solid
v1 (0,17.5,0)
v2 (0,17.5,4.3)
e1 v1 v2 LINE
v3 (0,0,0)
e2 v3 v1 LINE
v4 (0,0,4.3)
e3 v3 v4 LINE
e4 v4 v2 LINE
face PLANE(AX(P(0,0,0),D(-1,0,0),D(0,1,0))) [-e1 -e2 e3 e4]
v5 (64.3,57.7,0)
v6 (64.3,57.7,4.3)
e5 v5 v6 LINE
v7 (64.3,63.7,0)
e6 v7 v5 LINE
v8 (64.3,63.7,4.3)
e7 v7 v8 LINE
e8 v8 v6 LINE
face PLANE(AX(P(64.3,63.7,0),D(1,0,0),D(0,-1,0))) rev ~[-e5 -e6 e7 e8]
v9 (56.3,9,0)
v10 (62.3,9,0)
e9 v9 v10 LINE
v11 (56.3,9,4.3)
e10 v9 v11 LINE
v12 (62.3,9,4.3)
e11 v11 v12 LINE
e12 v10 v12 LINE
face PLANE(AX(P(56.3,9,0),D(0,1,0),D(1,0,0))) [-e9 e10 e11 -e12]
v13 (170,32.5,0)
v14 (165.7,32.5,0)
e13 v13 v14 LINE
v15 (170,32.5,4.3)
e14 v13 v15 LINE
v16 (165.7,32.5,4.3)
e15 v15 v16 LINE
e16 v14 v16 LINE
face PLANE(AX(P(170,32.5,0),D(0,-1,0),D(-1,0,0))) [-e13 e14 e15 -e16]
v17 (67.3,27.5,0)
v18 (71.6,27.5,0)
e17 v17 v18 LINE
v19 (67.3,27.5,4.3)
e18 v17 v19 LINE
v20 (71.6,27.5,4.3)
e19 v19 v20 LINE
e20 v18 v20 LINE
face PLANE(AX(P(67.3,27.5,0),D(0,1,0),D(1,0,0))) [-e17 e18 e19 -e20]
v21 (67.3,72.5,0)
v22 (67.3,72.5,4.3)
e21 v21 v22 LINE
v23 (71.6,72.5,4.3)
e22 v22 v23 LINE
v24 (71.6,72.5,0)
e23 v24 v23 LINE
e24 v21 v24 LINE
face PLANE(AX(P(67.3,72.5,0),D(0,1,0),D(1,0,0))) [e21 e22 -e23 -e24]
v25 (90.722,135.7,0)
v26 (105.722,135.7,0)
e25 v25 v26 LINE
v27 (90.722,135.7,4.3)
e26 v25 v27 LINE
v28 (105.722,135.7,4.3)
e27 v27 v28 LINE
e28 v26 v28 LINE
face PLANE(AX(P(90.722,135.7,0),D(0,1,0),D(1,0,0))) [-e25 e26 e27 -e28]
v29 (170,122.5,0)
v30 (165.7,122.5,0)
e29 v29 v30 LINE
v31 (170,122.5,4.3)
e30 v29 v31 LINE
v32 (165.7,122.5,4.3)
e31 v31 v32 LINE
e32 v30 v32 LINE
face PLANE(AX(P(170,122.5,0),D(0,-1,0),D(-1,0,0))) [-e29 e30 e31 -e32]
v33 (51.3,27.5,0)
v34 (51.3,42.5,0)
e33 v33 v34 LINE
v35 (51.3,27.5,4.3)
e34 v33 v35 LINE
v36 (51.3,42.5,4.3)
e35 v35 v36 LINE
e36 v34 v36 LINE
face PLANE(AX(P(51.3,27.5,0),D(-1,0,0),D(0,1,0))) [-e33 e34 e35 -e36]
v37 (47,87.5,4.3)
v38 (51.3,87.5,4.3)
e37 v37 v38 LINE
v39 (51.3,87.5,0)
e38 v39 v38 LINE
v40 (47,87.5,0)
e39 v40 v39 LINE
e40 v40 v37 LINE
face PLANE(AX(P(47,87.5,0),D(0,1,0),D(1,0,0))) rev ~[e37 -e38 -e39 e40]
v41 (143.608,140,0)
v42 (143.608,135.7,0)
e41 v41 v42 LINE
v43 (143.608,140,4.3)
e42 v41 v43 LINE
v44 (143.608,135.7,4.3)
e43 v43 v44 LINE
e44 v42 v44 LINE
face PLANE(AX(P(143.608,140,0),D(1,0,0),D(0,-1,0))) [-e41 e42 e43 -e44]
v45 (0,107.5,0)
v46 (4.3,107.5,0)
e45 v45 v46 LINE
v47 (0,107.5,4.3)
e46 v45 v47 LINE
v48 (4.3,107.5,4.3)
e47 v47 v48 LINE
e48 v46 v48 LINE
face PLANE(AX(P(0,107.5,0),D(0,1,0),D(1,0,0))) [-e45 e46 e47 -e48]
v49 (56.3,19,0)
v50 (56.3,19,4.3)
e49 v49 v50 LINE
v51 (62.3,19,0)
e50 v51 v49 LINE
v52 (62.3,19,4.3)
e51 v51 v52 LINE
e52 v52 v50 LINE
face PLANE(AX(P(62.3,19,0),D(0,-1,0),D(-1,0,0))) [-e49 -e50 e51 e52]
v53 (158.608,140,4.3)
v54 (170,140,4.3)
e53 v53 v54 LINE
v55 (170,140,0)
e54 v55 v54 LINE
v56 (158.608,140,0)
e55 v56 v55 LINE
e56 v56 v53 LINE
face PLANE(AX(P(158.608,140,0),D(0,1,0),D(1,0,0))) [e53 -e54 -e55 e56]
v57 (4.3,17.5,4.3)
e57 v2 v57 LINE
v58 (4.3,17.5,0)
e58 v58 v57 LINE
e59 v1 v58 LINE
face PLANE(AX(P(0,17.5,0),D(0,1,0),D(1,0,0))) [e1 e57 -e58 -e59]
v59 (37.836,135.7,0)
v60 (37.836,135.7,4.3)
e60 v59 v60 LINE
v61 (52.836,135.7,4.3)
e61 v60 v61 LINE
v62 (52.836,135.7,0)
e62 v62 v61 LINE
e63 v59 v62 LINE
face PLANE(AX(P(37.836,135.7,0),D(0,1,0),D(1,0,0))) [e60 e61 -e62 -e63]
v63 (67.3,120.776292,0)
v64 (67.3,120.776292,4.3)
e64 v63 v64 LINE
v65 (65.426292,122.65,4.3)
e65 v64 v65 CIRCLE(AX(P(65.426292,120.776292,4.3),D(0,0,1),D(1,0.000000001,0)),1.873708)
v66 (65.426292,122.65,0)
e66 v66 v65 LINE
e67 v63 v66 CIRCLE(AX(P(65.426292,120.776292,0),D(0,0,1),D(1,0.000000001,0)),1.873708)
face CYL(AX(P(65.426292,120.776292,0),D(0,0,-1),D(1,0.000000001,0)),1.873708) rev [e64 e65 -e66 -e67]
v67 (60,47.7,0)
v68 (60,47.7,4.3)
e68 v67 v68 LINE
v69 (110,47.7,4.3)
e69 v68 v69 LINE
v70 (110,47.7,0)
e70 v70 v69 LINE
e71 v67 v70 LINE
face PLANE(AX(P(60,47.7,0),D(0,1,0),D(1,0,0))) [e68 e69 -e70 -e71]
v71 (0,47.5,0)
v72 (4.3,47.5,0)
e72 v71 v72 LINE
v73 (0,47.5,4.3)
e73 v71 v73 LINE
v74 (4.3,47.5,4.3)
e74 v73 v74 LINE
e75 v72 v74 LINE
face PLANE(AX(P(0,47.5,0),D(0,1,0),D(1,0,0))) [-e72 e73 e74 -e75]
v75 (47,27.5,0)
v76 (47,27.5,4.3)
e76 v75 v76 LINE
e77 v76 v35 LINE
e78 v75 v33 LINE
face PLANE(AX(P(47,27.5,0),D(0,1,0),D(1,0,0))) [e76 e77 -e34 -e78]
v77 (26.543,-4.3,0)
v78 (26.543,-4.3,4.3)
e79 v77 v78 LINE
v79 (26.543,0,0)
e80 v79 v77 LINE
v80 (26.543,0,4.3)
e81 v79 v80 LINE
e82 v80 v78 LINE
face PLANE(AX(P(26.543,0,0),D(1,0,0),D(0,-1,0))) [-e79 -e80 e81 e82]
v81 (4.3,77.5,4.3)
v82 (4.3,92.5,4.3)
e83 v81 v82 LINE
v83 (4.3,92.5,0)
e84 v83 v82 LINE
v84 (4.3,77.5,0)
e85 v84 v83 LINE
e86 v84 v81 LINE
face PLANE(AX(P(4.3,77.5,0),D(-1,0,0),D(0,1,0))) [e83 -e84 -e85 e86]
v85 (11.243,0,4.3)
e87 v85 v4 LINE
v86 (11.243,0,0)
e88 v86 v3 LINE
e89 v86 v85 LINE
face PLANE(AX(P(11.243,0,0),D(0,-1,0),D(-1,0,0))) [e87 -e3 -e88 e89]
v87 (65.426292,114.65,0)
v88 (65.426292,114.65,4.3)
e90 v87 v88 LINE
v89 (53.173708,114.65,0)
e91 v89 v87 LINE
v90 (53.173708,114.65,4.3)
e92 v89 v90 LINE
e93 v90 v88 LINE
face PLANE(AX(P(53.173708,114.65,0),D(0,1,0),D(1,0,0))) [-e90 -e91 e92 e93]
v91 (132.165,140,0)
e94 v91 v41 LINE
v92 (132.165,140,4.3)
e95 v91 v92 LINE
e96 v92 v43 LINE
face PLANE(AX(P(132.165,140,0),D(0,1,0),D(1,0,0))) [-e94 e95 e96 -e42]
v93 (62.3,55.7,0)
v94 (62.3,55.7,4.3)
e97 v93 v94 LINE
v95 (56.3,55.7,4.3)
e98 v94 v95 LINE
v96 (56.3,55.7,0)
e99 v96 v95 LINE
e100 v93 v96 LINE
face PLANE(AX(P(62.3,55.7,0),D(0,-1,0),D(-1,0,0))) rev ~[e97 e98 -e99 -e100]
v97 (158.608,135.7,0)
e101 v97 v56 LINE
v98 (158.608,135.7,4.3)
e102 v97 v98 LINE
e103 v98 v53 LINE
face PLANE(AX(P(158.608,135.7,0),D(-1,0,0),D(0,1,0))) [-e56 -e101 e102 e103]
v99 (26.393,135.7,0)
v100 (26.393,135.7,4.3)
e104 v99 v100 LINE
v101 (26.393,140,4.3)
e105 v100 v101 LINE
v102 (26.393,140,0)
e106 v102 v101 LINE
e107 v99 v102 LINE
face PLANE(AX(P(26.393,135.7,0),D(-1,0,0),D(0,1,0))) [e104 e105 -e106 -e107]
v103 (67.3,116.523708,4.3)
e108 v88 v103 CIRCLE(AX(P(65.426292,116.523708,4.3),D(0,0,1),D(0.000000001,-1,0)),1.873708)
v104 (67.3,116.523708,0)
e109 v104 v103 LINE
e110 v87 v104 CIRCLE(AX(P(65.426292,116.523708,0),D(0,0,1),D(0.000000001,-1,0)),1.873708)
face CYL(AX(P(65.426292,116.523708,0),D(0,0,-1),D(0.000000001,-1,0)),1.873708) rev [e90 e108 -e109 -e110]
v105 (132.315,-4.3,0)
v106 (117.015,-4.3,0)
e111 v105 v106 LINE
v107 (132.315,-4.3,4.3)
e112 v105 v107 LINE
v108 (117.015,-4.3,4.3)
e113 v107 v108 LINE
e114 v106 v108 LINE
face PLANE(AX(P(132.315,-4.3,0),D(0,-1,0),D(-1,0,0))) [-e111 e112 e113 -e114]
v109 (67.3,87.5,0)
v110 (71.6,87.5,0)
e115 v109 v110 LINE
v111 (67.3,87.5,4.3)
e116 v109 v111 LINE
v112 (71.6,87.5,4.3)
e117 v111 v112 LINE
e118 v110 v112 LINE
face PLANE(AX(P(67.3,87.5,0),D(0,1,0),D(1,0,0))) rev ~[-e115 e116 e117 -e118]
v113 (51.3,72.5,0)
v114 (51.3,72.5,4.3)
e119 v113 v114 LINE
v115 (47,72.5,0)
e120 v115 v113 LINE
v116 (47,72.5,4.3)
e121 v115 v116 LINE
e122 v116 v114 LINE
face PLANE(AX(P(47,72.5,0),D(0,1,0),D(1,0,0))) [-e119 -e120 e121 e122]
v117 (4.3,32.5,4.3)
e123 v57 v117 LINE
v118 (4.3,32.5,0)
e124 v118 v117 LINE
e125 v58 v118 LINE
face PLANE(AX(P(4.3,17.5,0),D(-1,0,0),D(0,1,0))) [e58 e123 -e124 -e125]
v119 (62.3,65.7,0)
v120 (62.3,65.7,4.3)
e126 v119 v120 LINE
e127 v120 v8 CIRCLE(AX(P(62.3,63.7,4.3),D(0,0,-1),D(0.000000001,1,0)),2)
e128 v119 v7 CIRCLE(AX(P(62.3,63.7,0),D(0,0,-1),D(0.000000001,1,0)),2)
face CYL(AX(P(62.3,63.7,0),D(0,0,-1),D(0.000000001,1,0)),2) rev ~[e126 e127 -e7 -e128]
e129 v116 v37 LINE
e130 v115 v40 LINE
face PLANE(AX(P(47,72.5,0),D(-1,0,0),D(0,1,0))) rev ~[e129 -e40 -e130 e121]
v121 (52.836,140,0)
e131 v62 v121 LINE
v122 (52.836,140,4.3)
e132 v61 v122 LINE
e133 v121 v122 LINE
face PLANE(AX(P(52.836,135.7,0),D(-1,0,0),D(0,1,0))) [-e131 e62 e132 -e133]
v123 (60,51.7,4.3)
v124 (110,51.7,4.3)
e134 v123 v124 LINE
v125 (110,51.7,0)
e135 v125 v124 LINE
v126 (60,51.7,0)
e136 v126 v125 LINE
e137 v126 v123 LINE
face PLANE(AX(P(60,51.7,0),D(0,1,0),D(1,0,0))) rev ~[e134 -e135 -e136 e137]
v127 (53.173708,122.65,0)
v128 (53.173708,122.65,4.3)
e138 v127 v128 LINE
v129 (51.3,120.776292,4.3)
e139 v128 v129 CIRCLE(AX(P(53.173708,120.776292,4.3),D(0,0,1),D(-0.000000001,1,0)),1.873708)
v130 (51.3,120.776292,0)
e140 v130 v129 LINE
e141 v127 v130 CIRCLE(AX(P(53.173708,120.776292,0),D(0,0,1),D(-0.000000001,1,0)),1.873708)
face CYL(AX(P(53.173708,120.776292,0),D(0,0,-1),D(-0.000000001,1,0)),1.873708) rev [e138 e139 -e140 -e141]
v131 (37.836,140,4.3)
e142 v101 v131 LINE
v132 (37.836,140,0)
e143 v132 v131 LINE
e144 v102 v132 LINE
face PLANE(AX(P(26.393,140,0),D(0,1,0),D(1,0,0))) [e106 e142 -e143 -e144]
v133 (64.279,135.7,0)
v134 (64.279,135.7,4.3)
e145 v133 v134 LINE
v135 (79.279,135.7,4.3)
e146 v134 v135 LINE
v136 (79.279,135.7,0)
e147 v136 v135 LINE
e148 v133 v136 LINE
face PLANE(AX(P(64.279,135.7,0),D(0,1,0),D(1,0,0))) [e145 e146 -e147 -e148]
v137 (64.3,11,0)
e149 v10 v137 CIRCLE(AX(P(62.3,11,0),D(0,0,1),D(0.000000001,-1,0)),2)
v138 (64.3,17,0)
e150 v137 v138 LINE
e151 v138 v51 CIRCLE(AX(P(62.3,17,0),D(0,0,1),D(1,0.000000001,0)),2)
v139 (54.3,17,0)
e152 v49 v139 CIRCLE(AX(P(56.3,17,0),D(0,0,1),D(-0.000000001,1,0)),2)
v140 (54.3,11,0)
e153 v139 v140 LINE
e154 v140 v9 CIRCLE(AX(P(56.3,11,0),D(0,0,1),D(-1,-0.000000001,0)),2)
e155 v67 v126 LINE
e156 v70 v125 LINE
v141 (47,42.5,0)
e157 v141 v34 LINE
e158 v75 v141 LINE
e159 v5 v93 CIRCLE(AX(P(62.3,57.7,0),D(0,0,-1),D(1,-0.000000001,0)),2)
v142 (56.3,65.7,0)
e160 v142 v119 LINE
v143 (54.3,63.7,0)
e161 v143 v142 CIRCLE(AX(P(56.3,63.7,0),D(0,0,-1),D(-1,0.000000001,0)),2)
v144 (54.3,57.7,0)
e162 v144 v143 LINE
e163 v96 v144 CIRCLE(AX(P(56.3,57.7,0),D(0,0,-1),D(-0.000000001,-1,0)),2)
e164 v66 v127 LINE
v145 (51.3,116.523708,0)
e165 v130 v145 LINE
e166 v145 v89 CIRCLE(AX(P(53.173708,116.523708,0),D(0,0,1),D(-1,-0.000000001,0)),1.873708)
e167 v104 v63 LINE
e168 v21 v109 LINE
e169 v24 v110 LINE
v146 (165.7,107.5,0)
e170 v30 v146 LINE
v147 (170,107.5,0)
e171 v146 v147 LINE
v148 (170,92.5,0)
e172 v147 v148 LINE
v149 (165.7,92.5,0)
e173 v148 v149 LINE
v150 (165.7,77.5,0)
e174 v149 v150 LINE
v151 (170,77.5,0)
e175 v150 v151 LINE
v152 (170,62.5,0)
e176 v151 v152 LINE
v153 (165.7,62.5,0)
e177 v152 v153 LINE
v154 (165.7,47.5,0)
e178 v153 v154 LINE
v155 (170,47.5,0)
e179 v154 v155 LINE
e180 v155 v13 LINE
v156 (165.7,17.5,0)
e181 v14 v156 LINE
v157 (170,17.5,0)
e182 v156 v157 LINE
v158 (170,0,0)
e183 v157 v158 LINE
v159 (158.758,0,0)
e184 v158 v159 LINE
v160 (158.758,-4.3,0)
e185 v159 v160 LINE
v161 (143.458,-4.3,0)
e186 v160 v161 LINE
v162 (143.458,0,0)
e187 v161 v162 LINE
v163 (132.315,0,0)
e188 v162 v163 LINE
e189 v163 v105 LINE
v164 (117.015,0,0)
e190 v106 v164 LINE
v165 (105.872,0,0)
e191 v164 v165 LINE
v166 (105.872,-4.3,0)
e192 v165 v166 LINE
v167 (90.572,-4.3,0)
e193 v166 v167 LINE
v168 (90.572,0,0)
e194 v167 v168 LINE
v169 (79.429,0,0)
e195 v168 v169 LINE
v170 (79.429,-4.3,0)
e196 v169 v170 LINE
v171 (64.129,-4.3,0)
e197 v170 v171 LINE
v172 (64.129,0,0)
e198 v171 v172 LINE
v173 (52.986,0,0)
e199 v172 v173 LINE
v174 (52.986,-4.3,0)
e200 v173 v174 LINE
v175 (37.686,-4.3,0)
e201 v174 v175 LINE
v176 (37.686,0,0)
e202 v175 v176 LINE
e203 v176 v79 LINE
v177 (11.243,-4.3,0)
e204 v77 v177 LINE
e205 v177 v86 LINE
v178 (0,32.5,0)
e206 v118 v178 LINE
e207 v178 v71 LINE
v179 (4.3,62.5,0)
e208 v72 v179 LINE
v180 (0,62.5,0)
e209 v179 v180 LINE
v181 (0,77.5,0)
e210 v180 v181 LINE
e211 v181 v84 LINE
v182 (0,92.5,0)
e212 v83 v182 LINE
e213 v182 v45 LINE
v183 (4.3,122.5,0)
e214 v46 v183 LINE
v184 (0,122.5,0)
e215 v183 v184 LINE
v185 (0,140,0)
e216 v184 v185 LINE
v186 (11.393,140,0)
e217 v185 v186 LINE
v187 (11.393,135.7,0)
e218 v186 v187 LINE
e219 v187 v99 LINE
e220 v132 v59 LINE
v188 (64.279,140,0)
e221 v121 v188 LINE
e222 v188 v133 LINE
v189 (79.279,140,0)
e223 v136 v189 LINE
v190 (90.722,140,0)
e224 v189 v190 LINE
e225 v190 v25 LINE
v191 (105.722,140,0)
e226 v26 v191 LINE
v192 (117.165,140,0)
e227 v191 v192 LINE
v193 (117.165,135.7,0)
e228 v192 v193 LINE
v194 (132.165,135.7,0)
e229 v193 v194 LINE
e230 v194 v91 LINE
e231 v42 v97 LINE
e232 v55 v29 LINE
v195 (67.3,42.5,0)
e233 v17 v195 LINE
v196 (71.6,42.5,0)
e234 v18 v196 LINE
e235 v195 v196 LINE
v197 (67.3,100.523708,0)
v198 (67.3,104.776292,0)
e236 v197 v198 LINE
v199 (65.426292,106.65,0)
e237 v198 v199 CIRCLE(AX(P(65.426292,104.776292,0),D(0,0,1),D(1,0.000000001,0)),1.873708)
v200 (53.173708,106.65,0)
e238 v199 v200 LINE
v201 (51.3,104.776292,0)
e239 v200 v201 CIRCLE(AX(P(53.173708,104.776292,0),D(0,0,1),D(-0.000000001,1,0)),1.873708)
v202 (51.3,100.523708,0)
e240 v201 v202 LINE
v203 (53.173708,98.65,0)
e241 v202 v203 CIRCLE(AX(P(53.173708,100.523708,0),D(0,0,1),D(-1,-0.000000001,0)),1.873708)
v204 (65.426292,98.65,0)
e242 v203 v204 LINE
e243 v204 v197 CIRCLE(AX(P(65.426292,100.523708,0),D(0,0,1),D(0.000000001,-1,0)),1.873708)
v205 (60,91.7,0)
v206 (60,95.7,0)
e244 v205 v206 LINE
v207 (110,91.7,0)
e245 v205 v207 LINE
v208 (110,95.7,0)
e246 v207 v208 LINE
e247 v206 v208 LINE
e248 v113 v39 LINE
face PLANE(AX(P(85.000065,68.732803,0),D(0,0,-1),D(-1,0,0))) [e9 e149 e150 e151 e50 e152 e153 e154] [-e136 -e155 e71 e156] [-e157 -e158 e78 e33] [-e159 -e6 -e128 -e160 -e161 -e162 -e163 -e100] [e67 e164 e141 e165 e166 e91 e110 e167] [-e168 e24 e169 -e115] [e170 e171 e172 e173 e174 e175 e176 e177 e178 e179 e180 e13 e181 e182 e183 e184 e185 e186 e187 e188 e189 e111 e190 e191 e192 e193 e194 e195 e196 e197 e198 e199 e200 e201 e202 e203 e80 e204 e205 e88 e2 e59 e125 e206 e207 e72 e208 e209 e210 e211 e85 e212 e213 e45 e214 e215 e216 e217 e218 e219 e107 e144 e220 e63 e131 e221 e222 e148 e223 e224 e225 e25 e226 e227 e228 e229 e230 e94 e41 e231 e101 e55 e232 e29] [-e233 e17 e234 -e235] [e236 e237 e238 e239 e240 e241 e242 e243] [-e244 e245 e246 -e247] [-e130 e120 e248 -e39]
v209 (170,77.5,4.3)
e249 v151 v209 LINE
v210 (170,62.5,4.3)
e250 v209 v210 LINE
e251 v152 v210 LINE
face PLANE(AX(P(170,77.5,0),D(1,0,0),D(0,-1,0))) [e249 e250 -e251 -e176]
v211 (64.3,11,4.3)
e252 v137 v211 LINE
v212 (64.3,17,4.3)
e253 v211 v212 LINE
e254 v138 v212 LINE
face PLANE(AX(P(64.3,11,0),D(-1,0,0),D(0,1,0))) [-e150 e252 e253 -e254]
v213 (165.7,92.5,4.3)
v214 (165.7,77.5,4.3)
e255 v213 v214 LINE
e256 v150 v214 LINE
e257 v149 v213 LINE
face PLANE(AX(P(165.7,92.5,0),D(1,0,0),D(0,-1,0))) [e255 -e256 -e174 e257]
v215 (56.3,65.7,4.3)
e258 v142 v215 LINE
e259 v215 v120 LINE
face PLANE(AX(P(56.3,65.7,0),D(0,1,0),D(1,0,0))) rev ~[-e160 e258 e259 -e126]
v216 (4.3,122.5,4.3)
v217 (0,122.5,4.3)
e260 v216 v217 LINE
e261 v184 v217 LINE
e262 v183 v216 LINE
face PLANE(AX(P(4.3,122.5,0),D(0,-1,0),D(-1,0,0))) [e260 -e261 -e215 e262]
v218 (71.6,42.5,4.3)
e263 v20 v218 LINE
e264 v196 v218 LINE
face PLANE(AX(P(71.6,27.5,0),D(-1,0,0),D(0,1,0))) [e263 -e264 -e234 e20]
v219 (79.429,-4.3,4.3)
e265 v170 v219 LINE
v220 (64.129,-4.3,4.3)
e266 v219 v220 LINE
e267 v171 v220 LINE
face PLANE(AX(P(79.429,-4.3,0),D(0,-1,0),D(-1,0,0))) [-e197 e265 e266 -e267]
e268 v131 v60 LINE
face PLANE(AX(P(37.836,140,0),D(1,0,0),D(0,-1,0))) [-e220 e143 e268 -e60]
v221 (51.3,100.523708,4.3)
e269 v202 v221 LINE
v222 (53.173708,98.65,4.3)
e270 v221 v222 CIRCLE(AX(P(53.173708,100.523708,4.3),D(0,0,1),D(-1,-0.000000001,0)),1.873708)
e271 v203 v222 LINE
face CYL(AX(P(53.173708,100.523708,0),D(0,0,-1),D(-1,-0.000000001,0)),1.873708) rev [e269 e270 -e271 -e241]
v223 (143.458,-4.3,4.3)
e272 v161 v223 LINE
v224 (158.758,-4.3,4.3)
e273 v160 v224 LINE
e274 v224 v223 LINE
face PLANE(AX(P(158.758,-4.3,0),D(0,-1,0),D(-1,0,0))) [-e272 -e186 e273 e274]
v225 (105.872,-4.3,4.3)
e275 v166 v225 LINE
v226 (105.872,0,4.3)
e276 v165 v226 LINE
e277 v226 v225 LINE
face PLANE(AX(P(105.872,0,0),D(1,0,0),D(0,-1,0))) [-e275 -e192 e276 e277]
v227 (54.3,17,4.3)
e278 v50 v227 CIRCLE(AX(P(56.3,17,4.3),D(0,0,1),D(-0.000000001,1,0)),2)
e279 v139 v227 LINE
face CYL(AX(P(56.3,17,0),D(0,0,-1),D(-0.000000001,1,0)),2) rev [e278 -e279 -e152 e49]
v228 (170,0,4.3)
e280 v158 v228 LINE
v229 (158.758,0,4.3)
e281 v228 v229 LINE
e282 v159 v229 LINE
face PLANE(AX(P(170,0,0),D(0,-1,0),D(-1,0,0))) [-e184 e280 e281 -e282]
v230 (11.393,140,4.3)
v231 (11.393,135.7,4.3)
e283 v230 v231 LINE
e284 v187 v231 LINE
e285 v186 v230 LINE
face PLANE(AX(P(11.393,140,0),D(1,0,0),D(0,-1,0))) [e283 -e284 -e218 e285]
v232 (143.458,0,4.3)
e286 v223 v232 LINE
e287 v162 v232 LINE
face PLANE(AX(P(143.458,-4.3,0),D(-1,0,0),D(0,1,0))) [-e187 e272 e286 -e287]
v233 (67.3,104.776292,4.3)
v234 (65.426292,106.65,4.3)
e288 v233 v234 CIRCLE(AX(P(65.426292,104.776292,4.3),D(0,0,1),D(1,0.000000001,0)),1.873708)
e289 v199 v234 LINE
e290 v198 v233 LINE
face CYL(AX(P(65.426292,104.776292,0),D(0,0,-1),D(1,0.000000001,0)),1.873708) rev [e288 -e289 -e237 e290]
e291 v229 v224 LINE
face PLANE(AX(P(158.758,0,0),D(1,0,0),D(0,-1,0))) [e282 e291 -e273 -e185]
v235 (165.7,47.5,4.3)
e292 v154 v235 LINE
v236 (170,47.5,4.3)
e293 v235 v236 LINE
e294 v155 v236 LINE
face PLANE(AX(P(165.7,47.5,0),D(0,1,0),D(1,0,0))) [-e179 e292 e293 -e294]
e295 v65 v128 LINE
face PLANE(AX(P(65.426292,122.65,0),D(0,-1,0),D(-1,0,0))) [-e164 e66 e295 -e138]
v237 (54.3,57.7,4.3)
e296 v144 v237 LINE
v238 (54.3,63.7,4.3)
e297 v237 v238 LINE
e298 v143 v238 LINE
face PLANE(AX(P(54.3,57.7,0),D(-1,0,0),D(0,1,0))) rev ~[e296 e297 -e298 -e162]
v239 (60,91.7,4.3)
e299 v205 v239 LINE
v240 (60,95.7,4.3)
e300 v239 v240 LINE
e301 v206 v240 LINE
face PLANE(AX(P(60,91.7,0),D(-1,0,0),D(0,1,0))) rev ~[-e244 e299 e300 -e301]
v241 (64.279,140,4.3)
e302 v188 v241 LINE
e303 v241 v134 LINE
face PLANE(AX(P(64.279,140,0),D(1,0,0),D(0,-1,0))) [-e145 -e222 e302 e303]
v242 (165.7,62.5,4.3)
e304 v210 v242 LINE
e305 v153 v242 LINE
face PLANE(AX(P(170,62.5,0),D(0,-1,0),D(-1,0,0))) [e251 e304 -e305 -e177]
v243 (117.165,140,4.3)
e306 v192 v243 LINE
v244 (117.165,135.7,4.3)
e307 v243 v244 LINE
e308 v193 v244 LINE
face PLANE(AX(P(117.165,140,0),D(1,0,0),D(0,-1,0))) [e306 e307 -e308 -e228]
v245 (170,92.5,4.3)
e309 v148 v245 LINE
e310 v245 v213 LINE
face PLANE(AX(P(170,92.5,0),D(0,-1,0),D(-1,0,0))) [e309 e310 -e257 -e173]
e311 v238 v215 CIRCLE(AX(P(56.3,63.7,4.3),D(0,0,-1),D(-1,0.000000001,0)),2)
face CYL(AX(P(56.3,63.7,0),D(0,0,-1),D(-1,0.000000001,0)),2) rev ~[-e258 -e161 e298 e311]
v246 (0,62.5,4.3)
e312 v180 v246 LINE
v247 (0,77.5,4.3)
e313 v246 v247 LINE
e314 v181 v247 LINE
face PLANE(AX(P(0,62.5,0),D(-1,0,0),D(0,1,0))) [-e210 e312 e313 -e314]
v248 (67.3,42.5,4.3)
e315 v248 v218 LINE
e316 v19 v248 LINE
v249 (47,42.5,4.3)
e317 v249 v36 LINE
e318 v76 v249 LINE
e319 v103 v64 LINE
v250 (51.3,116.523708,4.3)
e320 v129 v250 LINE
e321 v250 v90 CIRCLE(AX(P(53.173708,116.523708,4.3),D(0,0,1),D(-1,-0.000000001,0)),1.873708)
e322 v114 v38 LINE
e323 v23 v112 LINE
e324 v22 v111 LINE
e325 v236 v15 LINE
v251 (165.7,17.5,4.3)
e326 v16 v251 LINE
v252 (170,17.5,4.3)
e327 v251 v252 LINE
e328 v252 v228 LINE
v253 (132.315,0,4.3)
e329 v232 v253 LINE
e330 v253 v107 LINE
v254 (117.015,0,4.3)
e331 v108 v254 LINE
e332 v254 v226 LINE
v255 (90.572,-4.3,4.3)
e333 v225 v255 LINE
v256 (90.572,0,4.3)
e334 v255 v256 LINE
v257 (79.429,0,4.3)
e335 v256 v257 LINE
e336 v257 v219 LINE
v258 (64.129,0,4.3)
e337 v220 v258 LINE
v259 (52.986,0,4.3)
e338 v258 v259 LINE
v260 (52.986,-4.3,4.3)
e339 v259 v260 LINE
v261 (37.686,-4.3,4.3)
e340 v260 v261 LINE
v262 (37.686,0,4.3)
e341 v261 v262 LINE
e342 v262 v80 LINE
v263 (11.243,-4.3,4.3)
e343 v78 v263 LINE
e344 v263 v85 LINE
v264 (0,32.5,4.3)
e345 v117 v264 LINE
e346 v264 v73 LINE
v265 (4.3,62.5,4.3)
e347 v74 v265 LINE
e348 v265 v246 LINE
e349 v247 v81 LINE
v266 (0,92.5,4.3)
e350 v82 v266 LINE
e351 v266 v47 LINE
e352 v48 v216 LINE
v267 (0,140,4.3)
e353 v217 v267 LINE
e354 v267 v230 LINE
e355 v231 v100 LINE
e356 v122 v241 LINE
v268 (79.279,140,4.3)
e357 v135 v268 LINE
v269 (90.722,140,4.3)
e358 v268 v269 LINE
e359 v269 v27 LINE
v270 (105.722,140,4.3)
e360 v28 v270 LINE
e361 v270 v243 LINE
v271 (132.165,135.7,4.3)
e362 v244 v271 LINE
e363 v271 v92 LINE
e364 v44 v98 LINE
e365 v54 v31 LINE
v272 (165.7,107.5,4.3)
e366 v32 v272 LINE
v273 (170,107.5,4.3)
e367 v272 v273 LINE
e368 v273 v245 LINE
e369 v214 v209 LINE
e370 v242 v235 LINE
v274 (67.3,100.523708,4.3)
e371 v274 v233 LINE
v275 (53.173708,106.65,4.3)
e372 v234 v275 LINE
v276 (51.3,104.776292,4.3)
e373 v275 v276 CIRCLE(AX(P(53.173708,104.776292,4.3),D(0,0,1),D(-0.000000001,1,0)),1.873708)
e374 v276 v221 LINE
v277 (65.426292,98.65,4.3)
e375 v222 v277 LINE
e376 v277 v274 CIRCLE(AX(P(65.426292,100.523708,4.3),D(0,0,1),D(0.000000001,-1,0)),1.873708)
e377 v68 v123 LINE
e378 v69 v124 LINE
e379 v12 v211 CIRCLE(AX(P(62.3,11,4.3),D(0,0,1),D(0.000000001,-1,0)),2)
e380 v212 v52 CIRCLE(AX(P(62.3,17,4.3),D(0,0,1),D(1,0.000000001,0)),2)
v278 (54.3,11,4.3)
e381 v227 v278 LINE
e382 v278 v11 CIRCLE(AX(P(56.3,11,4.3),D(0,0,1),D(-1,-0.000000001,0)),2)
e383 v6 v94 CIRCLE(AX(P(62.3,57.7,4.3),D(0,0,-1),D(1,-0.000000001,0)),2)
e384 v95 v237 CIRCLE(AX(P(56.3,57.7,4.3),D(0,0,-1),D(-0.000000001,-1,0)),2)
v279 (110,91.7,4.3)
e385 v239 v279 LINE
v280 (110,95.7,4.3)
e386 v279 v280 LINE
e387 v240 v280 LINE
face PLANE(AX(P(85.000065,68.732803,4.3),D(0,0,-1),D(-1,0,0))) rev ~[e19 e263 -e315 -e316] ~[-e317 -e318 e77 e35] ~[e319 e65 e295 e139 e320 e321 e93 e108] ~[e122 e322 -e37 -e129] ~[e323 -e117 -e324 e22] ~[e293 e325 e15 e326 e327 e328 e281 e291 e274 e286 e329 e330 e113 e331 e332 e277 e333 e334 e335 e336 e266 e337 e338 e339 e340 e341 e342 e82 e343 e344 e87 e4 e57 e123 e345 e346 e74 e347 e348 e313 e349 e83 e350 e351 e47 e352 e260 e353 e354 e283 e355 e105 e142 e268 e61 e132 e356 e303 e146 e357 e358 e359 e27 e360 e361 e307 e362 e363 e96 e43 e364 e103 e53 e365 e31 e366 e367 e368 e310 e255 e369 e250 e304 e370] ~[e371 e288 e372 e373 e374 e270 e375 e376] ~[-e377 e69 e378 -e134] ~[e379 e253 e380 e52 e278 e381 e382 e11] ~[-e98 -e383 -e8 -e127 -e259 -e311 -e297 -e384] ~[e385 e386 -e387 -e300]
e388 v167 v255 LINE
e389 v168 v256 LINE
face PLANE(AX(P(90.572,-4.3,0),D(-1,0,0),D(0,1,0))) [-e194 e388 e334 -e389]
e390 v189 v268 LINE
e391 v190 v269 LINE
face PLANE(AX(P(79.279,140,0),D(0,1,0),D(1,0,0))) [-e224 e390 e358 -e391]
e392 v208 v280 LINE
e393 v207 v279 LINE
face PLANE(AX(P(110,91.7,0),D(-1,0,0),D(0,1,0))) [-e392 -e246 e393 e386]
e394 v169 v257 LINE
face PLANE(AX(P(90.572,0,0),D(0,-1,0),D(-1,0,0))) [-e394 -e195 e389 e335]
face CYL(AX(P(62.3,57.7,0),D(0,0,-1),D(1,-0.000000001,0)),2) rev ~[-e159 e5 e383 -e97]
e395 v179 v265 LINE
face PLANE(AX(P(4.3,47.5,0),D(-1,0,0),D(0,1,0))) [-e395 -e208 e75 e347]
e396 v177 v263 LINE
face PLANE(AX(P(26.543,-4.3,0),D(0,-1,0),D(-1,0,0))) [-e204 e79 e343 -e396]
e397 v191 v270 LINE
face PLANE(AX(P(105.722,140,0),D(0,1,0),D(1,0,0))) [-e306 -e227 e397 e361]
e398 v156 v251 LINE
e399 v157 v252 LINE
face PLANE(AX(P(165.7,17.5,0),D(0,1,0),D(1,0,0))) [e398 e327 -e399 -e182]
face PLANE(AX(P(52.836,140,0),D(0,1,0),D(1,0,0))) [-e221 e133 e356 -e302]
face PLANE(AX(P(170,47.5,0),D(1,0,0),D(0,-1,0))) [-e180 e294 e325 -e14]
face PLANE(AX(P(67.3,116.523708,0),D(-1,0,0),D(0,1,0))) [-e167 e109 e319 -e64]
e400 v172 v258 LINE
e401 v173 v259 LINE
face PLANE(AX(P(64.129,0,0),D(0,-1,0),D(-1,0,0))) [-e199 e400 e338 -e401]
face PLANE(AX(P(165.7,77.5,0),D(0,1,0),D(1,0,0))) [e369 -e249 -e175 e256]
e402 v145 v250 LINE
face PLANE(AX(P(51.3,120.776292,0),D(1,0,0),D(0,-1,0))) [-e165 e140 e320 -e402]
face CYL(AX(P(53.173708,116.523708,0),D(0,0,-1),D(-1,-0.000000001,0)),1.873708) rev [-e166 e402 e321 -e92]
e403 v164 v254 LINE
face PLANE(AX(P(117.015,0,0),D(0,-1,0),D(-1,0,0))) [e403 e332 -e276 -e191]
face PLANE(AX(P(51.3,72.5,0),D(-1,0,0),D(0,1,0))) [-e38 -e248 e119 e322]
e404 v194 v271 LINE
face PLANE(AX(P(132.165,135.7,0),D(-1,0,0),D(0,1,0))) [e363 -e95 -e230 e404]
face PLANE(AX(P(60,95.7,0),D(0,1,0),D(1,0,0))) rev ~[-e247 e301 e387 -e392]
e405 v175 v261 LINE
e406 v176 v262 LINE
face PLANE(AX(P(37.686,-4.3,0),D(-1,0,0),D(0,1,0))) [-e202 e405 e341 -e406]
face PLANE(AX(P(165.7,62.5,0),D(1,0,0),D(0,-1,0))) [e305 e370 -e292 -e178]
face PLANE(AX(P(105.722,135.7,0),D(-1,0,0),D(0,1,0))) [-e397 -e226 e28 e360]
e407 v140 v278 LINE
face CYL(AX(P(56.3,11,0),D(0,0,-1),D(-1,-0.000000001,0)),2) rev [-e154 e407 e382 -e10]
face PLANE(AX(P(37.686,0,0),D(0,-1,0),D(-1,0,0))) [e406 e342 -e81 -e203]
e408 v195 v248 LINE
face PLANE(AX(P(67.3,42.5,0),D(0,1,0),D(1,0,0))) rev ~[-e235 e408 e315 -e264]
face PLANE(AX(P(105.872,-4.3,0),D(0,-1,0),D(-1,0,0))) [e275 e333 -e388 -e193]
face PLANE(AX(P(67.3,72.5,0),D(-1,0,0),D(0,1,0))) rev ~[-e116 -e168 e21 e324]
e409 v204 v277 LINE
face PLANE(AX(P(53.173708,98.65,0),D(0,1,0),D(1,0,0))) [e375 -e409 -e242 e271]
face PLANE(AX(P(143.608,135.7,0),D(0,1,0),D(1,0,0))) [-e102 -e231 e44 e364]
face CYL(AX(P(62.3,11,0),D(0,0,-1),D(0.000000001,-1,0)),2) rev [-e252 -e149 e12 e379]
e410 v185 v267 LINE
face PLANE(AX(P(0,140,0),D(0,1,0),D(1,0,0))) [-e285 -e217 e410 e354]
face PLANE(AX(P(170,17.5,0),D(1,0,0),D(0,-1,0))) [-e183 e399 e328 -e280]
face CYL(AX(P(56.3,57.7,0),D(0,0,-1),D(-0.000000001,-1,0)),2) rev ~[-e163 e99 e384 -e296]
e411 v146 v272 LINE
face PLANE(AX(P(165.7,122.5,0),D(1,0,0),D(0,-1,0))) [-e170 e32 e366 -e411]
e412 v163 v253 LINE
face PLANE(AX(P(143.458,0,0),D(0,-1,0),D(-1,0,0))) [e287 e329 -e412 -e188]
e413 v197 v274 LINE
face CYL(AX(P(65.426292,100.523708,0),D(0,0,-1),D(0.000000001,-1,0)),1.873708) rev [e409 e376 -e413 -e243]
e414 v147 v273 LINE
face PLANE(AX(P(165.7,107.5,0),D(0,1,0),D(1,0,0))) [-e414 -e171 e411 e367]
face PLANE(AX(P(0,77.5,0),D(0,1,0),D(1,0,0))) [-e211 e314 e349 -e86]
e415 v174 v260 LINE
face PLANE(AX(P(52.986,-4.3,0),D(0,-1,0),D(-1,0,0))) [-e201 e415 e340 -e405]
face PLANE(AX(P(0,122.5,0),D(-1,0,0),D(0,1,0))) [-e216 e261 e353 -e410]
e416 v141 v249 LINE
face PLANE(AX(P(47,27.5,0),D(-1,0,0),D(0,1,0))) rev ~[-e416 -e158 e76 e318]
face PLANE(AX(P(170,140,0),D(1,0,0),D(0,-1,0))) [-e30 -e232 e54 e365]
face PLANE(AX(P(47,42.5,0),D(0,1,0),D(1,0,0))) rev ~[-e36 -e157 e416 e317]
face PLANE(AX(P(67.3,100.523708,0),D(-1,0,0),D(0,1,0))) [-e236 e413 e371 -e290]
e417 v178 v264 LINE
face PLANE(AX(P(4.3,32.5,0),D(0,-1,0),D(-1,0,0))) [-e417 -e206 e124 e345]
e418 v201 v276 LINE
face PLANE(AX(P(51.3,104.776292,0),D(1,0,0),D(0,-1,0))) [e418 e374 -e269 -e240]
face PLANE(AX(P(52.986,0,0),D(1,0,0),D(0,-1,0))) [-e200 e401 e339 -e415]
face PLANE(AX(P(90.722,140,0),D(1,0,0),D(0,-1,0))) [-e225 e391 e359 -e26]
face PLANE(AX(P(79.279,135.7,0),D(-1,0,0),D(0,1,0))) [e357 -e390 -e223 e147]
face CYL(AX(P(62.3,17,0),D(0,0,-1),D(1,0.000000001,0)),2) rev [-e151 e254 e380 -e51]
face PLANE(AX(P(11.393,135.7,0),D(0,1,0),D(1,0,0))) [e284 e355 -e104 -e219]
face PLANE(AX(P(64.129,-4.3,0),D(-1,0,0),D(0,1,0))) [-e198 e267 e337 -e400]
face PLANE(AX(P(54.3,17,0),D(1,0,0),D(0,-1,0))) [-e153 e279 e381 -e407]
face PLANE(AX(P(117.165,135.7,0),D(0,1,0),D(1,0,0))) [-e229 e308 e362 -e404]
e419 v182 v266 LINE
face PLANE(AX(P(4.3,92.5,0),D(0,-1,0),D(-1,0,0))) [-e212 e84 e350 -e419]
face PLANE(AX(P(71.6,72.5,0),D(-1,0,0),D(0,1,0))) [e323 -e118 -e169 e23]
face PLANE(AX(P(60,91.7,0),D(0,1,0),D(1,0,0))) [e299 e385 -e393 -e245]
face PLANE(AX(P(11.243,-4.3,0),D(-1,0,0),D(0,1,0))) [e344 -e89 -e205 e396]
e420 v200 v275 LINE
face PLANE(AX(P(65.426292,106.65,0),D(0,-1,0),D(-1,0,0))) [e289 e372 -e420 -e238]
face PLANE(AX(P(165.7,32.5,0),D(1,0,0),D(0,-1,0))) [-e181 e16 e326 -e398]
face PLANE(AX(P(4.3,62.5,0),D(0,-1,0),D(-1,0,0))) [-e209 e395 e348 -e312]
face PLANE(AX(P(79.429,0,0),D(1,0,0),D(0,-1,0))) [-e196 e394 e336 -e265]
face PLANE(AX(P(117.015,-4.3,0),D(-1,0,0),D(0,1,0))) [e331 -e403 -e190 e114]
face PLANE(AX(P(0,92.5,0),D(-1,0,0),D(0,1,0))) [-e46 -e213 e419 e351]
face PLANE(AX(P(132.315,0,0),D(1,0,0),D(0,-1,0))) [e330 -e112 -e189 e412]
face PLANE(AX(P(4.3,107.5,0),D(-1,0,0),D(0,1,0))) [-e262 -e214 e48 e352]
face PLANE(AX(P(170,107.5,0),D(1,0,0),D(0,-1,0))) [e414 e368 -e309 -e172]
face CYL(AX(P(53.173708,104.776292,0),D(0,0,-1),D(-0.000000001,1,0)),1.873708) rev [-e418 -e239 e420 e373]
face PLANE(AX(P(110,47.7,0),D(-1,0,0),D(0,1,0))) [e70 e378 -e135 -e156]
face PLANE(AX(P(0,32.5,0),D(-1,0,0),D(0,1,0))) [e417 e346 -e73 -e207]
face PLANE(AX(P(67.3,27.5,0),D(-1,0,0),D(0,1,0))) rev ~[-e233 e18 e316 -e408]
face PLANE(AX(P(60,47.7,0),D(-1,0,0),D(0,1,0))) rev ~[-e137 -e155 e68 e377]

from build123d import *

# Parameters (mm, degrees)
SKETCH1_W           = 4.3
SKETCH1_H           = 15
SKETCH1_W_2         = 50
SKETCH1_H_2         = 4
BOSS_EXTRUDE1_DEPTH = 4.3


with BuildPart() as part:
    # Sketch1 → Boss-Extrude1 (new body)
    with BuildSketch(Plane.XY):
        Polygon((0, 140), (11.393, 140), (11.393, 135.7), (26.393, 135.7), (26.393, 140), (37.836, 140), (37.836, 135.7), (52.836, 135.7), (52.836, 140), (64.279, 140), (64.279, 135.7), (79.279, 135.7), (79.279, 140), (90.722, 140), (90.722, 135.7), (105.722, 135.7), (105.722, 140), (117.165, 140), (117.165, 135.7), (132.165, 135.7), (132.165, 140), (143.608, 140), (143.608, 135.7), (158.608, 135.7), (158.608, 140), (170, 140), (170, 122.5), (165.7, 122.5), (165.7, 107.5), (170, 107.5), (170, 92.5), (165.7, 92.5), (165.7, 77.5), (170, 77.5), (170, 62.5), (165.7, 62.5), (165.7, 47.5), (170, 47.5), (170, 32.5), (165.7, 32.5), (165.7, 17.5), (170, 17.5), (170, 0), (158.758, 0), (158.758, -4.3), (143.458, -4.3), (143.458, 0), (132.315, 0), (132.315, -4.3), (117.015, -4.3), (117.015, 0), (105.872, 0), (105.872, -4.3), (90.572, -4.3), (90.572, 0), (79.429, 0), (79.429, -4.3), (64.129, -4.3), (64.129, 0), (52.986, 0), (52.986, -4.3), (37.686, -4.3), (37.686, 0), (26.543, 0), (26.543, -4.3), (11.243, -4.3), (11.243, 0), (0, 0), (0, 17.5), (4.3, 17.5), (4.3, 32.5), (0, 32.5), (0, 47.5), (4.3, 47.5), (4.3, 62.5), (0, 62.5), (0, 77.5), (4.3, 77.5), (4.3, 92.5), (0, 92.5), (0, 107.5), (4.3, 107.5), (4.3, 122.5), (0, 122.5), align=None)
        with Locations((69.45, 35)):
            Rectangle(SKETCH1_W, SKETCH1_H, mode=Mode.SUBTRACT)
        with Locations((69.45, 80)):
            Rectangle(SKETCH1_W, SKETCH1_H, mode=Mode.SUBTRACT)
        with Locations((49.15, 80)):
            Rectangle(SKETCH1_W, SKETCH1_H, mode=Mode.SUBTRACT)
        with Locations((85, 49.7)):
            Rectangle(SKETCH1_W_2, SKETCH1_H_2, mode=Mode.SUBTRACT)
        with Locations((85, 93.7)):
            Rectangle(SKETCH1_W_2, SKETCH1_H_2, mode=Mode.SUBTRACT)
        with BuildLine():
            Line((53.173708042, 114.65), (65.426291958, 114.65))
            ThreePointArc((65.426291958, 114.65), (66.75120362, 115.19879638), (67.3, 116.523708042))
            Line((67.3, 116.523708042), (67.3, 120.776291958))
            ThreePointArc((67.3, 120.776291958), (66.75120362, 122.10120362), (65.426291958, 122.65))
            Line((65.426291958, 122.65), (53.173708042, 122.65))
            ThreePointArc((53.173708042, 122.65), (51.84879638, 122.10120362), (51.3, 120.776291958))
            Line((51.3, 120.776291958), (51.3, 116.523708042))
            ThreePointArc((51.3, 116.523708042), (51.84879638, 115.19879638), (53.173708042, 114.65))
        make_face(mode=Mode.SUBTRACT)
        with BuildLine():
            Line((53.173708042, 98.65), (65.426291958, 98.65))
            ThreePointArc((65.426291958, 98.65), (66.75120362, 99.19879638), (67.3, 100.523708042))
            Line((67.3, 100.523708042), (67.3, 104.776291958))
            ThreePointArc((67.3, 104.776291958), (66.75120362, 106.10120362), (65.426291958, 106.65))
            Line((65.426291958, 106.65), (53.173708042, 106.65))
            ThreePointArc((53.173708042, 106.65), (51.84879638, 106.10120362), (51.3, 104.776291958))
            Line((51.3, 104.776291958), (51.3, 100.523708042))
            ThreePointArc((51.3, 100.523708042), (51.84879638, 99.19879638), (53.173708042, 98.65))
        make_face(mode=Mode.SUBTRACT)
        with Locations((49.15, 35)):
            Rectangle(SKETCH1_W, SKETCH1_H, mode=Mode.SUBTRACT)
        with BuildLine():
            Line((56.3, 9), (62.3, 9))
            ThreePointArc((62.3, 9), (63.714213562, 9.585786438), (64.3, 11))
            Line((64.3, 11), (64.3, 17))
            ThreePointArc((64.3, 17), (63.714213562, 18.414213562), (62.3, 19))
            Line((62.3, 19), (56.3, 19))
            ThreePointArc((56.3, 19), (54.885786438, 18.414213562), (54.3, 17))
            Line((54.3, 17), (54.3, 11))
            ThreePointArc((54.3, 11), (54.885786438, 9.585786438), (56.3, 9))
        make_face(mode=Mode.SUBTRACT)
        with BuildLine():
            Line((56.3, 65.7), (62.3, 65.7))
            ThreePointArc((62.3, 65.7), (63.714213562, 65.114213562), (64.3, 63.7))
            Line((64.3, 63.7), (64.3, 57.7))
            ThreePointArc((64.3, 57.7), (63.714213562, 56.285786438), (62.3, 55.7))
            Line((62.3, 55.7), (56.3, 55.7))
            ThreePointArc((56.3, 55.7), (54.885786438, 56.285786438), (54.3, 57.7))
            Line((54.3, 57.7), (54.3, 63.7))
            ThreePointArc((54.3, 63.7), (54.885786438, 65.114213562), (56.3, 65.7))
        make_face(mode=Mode.SUBTRACT)
    extrude(amount=BOSS_EXTRUDE1_DEPTH)


solid = part.part
